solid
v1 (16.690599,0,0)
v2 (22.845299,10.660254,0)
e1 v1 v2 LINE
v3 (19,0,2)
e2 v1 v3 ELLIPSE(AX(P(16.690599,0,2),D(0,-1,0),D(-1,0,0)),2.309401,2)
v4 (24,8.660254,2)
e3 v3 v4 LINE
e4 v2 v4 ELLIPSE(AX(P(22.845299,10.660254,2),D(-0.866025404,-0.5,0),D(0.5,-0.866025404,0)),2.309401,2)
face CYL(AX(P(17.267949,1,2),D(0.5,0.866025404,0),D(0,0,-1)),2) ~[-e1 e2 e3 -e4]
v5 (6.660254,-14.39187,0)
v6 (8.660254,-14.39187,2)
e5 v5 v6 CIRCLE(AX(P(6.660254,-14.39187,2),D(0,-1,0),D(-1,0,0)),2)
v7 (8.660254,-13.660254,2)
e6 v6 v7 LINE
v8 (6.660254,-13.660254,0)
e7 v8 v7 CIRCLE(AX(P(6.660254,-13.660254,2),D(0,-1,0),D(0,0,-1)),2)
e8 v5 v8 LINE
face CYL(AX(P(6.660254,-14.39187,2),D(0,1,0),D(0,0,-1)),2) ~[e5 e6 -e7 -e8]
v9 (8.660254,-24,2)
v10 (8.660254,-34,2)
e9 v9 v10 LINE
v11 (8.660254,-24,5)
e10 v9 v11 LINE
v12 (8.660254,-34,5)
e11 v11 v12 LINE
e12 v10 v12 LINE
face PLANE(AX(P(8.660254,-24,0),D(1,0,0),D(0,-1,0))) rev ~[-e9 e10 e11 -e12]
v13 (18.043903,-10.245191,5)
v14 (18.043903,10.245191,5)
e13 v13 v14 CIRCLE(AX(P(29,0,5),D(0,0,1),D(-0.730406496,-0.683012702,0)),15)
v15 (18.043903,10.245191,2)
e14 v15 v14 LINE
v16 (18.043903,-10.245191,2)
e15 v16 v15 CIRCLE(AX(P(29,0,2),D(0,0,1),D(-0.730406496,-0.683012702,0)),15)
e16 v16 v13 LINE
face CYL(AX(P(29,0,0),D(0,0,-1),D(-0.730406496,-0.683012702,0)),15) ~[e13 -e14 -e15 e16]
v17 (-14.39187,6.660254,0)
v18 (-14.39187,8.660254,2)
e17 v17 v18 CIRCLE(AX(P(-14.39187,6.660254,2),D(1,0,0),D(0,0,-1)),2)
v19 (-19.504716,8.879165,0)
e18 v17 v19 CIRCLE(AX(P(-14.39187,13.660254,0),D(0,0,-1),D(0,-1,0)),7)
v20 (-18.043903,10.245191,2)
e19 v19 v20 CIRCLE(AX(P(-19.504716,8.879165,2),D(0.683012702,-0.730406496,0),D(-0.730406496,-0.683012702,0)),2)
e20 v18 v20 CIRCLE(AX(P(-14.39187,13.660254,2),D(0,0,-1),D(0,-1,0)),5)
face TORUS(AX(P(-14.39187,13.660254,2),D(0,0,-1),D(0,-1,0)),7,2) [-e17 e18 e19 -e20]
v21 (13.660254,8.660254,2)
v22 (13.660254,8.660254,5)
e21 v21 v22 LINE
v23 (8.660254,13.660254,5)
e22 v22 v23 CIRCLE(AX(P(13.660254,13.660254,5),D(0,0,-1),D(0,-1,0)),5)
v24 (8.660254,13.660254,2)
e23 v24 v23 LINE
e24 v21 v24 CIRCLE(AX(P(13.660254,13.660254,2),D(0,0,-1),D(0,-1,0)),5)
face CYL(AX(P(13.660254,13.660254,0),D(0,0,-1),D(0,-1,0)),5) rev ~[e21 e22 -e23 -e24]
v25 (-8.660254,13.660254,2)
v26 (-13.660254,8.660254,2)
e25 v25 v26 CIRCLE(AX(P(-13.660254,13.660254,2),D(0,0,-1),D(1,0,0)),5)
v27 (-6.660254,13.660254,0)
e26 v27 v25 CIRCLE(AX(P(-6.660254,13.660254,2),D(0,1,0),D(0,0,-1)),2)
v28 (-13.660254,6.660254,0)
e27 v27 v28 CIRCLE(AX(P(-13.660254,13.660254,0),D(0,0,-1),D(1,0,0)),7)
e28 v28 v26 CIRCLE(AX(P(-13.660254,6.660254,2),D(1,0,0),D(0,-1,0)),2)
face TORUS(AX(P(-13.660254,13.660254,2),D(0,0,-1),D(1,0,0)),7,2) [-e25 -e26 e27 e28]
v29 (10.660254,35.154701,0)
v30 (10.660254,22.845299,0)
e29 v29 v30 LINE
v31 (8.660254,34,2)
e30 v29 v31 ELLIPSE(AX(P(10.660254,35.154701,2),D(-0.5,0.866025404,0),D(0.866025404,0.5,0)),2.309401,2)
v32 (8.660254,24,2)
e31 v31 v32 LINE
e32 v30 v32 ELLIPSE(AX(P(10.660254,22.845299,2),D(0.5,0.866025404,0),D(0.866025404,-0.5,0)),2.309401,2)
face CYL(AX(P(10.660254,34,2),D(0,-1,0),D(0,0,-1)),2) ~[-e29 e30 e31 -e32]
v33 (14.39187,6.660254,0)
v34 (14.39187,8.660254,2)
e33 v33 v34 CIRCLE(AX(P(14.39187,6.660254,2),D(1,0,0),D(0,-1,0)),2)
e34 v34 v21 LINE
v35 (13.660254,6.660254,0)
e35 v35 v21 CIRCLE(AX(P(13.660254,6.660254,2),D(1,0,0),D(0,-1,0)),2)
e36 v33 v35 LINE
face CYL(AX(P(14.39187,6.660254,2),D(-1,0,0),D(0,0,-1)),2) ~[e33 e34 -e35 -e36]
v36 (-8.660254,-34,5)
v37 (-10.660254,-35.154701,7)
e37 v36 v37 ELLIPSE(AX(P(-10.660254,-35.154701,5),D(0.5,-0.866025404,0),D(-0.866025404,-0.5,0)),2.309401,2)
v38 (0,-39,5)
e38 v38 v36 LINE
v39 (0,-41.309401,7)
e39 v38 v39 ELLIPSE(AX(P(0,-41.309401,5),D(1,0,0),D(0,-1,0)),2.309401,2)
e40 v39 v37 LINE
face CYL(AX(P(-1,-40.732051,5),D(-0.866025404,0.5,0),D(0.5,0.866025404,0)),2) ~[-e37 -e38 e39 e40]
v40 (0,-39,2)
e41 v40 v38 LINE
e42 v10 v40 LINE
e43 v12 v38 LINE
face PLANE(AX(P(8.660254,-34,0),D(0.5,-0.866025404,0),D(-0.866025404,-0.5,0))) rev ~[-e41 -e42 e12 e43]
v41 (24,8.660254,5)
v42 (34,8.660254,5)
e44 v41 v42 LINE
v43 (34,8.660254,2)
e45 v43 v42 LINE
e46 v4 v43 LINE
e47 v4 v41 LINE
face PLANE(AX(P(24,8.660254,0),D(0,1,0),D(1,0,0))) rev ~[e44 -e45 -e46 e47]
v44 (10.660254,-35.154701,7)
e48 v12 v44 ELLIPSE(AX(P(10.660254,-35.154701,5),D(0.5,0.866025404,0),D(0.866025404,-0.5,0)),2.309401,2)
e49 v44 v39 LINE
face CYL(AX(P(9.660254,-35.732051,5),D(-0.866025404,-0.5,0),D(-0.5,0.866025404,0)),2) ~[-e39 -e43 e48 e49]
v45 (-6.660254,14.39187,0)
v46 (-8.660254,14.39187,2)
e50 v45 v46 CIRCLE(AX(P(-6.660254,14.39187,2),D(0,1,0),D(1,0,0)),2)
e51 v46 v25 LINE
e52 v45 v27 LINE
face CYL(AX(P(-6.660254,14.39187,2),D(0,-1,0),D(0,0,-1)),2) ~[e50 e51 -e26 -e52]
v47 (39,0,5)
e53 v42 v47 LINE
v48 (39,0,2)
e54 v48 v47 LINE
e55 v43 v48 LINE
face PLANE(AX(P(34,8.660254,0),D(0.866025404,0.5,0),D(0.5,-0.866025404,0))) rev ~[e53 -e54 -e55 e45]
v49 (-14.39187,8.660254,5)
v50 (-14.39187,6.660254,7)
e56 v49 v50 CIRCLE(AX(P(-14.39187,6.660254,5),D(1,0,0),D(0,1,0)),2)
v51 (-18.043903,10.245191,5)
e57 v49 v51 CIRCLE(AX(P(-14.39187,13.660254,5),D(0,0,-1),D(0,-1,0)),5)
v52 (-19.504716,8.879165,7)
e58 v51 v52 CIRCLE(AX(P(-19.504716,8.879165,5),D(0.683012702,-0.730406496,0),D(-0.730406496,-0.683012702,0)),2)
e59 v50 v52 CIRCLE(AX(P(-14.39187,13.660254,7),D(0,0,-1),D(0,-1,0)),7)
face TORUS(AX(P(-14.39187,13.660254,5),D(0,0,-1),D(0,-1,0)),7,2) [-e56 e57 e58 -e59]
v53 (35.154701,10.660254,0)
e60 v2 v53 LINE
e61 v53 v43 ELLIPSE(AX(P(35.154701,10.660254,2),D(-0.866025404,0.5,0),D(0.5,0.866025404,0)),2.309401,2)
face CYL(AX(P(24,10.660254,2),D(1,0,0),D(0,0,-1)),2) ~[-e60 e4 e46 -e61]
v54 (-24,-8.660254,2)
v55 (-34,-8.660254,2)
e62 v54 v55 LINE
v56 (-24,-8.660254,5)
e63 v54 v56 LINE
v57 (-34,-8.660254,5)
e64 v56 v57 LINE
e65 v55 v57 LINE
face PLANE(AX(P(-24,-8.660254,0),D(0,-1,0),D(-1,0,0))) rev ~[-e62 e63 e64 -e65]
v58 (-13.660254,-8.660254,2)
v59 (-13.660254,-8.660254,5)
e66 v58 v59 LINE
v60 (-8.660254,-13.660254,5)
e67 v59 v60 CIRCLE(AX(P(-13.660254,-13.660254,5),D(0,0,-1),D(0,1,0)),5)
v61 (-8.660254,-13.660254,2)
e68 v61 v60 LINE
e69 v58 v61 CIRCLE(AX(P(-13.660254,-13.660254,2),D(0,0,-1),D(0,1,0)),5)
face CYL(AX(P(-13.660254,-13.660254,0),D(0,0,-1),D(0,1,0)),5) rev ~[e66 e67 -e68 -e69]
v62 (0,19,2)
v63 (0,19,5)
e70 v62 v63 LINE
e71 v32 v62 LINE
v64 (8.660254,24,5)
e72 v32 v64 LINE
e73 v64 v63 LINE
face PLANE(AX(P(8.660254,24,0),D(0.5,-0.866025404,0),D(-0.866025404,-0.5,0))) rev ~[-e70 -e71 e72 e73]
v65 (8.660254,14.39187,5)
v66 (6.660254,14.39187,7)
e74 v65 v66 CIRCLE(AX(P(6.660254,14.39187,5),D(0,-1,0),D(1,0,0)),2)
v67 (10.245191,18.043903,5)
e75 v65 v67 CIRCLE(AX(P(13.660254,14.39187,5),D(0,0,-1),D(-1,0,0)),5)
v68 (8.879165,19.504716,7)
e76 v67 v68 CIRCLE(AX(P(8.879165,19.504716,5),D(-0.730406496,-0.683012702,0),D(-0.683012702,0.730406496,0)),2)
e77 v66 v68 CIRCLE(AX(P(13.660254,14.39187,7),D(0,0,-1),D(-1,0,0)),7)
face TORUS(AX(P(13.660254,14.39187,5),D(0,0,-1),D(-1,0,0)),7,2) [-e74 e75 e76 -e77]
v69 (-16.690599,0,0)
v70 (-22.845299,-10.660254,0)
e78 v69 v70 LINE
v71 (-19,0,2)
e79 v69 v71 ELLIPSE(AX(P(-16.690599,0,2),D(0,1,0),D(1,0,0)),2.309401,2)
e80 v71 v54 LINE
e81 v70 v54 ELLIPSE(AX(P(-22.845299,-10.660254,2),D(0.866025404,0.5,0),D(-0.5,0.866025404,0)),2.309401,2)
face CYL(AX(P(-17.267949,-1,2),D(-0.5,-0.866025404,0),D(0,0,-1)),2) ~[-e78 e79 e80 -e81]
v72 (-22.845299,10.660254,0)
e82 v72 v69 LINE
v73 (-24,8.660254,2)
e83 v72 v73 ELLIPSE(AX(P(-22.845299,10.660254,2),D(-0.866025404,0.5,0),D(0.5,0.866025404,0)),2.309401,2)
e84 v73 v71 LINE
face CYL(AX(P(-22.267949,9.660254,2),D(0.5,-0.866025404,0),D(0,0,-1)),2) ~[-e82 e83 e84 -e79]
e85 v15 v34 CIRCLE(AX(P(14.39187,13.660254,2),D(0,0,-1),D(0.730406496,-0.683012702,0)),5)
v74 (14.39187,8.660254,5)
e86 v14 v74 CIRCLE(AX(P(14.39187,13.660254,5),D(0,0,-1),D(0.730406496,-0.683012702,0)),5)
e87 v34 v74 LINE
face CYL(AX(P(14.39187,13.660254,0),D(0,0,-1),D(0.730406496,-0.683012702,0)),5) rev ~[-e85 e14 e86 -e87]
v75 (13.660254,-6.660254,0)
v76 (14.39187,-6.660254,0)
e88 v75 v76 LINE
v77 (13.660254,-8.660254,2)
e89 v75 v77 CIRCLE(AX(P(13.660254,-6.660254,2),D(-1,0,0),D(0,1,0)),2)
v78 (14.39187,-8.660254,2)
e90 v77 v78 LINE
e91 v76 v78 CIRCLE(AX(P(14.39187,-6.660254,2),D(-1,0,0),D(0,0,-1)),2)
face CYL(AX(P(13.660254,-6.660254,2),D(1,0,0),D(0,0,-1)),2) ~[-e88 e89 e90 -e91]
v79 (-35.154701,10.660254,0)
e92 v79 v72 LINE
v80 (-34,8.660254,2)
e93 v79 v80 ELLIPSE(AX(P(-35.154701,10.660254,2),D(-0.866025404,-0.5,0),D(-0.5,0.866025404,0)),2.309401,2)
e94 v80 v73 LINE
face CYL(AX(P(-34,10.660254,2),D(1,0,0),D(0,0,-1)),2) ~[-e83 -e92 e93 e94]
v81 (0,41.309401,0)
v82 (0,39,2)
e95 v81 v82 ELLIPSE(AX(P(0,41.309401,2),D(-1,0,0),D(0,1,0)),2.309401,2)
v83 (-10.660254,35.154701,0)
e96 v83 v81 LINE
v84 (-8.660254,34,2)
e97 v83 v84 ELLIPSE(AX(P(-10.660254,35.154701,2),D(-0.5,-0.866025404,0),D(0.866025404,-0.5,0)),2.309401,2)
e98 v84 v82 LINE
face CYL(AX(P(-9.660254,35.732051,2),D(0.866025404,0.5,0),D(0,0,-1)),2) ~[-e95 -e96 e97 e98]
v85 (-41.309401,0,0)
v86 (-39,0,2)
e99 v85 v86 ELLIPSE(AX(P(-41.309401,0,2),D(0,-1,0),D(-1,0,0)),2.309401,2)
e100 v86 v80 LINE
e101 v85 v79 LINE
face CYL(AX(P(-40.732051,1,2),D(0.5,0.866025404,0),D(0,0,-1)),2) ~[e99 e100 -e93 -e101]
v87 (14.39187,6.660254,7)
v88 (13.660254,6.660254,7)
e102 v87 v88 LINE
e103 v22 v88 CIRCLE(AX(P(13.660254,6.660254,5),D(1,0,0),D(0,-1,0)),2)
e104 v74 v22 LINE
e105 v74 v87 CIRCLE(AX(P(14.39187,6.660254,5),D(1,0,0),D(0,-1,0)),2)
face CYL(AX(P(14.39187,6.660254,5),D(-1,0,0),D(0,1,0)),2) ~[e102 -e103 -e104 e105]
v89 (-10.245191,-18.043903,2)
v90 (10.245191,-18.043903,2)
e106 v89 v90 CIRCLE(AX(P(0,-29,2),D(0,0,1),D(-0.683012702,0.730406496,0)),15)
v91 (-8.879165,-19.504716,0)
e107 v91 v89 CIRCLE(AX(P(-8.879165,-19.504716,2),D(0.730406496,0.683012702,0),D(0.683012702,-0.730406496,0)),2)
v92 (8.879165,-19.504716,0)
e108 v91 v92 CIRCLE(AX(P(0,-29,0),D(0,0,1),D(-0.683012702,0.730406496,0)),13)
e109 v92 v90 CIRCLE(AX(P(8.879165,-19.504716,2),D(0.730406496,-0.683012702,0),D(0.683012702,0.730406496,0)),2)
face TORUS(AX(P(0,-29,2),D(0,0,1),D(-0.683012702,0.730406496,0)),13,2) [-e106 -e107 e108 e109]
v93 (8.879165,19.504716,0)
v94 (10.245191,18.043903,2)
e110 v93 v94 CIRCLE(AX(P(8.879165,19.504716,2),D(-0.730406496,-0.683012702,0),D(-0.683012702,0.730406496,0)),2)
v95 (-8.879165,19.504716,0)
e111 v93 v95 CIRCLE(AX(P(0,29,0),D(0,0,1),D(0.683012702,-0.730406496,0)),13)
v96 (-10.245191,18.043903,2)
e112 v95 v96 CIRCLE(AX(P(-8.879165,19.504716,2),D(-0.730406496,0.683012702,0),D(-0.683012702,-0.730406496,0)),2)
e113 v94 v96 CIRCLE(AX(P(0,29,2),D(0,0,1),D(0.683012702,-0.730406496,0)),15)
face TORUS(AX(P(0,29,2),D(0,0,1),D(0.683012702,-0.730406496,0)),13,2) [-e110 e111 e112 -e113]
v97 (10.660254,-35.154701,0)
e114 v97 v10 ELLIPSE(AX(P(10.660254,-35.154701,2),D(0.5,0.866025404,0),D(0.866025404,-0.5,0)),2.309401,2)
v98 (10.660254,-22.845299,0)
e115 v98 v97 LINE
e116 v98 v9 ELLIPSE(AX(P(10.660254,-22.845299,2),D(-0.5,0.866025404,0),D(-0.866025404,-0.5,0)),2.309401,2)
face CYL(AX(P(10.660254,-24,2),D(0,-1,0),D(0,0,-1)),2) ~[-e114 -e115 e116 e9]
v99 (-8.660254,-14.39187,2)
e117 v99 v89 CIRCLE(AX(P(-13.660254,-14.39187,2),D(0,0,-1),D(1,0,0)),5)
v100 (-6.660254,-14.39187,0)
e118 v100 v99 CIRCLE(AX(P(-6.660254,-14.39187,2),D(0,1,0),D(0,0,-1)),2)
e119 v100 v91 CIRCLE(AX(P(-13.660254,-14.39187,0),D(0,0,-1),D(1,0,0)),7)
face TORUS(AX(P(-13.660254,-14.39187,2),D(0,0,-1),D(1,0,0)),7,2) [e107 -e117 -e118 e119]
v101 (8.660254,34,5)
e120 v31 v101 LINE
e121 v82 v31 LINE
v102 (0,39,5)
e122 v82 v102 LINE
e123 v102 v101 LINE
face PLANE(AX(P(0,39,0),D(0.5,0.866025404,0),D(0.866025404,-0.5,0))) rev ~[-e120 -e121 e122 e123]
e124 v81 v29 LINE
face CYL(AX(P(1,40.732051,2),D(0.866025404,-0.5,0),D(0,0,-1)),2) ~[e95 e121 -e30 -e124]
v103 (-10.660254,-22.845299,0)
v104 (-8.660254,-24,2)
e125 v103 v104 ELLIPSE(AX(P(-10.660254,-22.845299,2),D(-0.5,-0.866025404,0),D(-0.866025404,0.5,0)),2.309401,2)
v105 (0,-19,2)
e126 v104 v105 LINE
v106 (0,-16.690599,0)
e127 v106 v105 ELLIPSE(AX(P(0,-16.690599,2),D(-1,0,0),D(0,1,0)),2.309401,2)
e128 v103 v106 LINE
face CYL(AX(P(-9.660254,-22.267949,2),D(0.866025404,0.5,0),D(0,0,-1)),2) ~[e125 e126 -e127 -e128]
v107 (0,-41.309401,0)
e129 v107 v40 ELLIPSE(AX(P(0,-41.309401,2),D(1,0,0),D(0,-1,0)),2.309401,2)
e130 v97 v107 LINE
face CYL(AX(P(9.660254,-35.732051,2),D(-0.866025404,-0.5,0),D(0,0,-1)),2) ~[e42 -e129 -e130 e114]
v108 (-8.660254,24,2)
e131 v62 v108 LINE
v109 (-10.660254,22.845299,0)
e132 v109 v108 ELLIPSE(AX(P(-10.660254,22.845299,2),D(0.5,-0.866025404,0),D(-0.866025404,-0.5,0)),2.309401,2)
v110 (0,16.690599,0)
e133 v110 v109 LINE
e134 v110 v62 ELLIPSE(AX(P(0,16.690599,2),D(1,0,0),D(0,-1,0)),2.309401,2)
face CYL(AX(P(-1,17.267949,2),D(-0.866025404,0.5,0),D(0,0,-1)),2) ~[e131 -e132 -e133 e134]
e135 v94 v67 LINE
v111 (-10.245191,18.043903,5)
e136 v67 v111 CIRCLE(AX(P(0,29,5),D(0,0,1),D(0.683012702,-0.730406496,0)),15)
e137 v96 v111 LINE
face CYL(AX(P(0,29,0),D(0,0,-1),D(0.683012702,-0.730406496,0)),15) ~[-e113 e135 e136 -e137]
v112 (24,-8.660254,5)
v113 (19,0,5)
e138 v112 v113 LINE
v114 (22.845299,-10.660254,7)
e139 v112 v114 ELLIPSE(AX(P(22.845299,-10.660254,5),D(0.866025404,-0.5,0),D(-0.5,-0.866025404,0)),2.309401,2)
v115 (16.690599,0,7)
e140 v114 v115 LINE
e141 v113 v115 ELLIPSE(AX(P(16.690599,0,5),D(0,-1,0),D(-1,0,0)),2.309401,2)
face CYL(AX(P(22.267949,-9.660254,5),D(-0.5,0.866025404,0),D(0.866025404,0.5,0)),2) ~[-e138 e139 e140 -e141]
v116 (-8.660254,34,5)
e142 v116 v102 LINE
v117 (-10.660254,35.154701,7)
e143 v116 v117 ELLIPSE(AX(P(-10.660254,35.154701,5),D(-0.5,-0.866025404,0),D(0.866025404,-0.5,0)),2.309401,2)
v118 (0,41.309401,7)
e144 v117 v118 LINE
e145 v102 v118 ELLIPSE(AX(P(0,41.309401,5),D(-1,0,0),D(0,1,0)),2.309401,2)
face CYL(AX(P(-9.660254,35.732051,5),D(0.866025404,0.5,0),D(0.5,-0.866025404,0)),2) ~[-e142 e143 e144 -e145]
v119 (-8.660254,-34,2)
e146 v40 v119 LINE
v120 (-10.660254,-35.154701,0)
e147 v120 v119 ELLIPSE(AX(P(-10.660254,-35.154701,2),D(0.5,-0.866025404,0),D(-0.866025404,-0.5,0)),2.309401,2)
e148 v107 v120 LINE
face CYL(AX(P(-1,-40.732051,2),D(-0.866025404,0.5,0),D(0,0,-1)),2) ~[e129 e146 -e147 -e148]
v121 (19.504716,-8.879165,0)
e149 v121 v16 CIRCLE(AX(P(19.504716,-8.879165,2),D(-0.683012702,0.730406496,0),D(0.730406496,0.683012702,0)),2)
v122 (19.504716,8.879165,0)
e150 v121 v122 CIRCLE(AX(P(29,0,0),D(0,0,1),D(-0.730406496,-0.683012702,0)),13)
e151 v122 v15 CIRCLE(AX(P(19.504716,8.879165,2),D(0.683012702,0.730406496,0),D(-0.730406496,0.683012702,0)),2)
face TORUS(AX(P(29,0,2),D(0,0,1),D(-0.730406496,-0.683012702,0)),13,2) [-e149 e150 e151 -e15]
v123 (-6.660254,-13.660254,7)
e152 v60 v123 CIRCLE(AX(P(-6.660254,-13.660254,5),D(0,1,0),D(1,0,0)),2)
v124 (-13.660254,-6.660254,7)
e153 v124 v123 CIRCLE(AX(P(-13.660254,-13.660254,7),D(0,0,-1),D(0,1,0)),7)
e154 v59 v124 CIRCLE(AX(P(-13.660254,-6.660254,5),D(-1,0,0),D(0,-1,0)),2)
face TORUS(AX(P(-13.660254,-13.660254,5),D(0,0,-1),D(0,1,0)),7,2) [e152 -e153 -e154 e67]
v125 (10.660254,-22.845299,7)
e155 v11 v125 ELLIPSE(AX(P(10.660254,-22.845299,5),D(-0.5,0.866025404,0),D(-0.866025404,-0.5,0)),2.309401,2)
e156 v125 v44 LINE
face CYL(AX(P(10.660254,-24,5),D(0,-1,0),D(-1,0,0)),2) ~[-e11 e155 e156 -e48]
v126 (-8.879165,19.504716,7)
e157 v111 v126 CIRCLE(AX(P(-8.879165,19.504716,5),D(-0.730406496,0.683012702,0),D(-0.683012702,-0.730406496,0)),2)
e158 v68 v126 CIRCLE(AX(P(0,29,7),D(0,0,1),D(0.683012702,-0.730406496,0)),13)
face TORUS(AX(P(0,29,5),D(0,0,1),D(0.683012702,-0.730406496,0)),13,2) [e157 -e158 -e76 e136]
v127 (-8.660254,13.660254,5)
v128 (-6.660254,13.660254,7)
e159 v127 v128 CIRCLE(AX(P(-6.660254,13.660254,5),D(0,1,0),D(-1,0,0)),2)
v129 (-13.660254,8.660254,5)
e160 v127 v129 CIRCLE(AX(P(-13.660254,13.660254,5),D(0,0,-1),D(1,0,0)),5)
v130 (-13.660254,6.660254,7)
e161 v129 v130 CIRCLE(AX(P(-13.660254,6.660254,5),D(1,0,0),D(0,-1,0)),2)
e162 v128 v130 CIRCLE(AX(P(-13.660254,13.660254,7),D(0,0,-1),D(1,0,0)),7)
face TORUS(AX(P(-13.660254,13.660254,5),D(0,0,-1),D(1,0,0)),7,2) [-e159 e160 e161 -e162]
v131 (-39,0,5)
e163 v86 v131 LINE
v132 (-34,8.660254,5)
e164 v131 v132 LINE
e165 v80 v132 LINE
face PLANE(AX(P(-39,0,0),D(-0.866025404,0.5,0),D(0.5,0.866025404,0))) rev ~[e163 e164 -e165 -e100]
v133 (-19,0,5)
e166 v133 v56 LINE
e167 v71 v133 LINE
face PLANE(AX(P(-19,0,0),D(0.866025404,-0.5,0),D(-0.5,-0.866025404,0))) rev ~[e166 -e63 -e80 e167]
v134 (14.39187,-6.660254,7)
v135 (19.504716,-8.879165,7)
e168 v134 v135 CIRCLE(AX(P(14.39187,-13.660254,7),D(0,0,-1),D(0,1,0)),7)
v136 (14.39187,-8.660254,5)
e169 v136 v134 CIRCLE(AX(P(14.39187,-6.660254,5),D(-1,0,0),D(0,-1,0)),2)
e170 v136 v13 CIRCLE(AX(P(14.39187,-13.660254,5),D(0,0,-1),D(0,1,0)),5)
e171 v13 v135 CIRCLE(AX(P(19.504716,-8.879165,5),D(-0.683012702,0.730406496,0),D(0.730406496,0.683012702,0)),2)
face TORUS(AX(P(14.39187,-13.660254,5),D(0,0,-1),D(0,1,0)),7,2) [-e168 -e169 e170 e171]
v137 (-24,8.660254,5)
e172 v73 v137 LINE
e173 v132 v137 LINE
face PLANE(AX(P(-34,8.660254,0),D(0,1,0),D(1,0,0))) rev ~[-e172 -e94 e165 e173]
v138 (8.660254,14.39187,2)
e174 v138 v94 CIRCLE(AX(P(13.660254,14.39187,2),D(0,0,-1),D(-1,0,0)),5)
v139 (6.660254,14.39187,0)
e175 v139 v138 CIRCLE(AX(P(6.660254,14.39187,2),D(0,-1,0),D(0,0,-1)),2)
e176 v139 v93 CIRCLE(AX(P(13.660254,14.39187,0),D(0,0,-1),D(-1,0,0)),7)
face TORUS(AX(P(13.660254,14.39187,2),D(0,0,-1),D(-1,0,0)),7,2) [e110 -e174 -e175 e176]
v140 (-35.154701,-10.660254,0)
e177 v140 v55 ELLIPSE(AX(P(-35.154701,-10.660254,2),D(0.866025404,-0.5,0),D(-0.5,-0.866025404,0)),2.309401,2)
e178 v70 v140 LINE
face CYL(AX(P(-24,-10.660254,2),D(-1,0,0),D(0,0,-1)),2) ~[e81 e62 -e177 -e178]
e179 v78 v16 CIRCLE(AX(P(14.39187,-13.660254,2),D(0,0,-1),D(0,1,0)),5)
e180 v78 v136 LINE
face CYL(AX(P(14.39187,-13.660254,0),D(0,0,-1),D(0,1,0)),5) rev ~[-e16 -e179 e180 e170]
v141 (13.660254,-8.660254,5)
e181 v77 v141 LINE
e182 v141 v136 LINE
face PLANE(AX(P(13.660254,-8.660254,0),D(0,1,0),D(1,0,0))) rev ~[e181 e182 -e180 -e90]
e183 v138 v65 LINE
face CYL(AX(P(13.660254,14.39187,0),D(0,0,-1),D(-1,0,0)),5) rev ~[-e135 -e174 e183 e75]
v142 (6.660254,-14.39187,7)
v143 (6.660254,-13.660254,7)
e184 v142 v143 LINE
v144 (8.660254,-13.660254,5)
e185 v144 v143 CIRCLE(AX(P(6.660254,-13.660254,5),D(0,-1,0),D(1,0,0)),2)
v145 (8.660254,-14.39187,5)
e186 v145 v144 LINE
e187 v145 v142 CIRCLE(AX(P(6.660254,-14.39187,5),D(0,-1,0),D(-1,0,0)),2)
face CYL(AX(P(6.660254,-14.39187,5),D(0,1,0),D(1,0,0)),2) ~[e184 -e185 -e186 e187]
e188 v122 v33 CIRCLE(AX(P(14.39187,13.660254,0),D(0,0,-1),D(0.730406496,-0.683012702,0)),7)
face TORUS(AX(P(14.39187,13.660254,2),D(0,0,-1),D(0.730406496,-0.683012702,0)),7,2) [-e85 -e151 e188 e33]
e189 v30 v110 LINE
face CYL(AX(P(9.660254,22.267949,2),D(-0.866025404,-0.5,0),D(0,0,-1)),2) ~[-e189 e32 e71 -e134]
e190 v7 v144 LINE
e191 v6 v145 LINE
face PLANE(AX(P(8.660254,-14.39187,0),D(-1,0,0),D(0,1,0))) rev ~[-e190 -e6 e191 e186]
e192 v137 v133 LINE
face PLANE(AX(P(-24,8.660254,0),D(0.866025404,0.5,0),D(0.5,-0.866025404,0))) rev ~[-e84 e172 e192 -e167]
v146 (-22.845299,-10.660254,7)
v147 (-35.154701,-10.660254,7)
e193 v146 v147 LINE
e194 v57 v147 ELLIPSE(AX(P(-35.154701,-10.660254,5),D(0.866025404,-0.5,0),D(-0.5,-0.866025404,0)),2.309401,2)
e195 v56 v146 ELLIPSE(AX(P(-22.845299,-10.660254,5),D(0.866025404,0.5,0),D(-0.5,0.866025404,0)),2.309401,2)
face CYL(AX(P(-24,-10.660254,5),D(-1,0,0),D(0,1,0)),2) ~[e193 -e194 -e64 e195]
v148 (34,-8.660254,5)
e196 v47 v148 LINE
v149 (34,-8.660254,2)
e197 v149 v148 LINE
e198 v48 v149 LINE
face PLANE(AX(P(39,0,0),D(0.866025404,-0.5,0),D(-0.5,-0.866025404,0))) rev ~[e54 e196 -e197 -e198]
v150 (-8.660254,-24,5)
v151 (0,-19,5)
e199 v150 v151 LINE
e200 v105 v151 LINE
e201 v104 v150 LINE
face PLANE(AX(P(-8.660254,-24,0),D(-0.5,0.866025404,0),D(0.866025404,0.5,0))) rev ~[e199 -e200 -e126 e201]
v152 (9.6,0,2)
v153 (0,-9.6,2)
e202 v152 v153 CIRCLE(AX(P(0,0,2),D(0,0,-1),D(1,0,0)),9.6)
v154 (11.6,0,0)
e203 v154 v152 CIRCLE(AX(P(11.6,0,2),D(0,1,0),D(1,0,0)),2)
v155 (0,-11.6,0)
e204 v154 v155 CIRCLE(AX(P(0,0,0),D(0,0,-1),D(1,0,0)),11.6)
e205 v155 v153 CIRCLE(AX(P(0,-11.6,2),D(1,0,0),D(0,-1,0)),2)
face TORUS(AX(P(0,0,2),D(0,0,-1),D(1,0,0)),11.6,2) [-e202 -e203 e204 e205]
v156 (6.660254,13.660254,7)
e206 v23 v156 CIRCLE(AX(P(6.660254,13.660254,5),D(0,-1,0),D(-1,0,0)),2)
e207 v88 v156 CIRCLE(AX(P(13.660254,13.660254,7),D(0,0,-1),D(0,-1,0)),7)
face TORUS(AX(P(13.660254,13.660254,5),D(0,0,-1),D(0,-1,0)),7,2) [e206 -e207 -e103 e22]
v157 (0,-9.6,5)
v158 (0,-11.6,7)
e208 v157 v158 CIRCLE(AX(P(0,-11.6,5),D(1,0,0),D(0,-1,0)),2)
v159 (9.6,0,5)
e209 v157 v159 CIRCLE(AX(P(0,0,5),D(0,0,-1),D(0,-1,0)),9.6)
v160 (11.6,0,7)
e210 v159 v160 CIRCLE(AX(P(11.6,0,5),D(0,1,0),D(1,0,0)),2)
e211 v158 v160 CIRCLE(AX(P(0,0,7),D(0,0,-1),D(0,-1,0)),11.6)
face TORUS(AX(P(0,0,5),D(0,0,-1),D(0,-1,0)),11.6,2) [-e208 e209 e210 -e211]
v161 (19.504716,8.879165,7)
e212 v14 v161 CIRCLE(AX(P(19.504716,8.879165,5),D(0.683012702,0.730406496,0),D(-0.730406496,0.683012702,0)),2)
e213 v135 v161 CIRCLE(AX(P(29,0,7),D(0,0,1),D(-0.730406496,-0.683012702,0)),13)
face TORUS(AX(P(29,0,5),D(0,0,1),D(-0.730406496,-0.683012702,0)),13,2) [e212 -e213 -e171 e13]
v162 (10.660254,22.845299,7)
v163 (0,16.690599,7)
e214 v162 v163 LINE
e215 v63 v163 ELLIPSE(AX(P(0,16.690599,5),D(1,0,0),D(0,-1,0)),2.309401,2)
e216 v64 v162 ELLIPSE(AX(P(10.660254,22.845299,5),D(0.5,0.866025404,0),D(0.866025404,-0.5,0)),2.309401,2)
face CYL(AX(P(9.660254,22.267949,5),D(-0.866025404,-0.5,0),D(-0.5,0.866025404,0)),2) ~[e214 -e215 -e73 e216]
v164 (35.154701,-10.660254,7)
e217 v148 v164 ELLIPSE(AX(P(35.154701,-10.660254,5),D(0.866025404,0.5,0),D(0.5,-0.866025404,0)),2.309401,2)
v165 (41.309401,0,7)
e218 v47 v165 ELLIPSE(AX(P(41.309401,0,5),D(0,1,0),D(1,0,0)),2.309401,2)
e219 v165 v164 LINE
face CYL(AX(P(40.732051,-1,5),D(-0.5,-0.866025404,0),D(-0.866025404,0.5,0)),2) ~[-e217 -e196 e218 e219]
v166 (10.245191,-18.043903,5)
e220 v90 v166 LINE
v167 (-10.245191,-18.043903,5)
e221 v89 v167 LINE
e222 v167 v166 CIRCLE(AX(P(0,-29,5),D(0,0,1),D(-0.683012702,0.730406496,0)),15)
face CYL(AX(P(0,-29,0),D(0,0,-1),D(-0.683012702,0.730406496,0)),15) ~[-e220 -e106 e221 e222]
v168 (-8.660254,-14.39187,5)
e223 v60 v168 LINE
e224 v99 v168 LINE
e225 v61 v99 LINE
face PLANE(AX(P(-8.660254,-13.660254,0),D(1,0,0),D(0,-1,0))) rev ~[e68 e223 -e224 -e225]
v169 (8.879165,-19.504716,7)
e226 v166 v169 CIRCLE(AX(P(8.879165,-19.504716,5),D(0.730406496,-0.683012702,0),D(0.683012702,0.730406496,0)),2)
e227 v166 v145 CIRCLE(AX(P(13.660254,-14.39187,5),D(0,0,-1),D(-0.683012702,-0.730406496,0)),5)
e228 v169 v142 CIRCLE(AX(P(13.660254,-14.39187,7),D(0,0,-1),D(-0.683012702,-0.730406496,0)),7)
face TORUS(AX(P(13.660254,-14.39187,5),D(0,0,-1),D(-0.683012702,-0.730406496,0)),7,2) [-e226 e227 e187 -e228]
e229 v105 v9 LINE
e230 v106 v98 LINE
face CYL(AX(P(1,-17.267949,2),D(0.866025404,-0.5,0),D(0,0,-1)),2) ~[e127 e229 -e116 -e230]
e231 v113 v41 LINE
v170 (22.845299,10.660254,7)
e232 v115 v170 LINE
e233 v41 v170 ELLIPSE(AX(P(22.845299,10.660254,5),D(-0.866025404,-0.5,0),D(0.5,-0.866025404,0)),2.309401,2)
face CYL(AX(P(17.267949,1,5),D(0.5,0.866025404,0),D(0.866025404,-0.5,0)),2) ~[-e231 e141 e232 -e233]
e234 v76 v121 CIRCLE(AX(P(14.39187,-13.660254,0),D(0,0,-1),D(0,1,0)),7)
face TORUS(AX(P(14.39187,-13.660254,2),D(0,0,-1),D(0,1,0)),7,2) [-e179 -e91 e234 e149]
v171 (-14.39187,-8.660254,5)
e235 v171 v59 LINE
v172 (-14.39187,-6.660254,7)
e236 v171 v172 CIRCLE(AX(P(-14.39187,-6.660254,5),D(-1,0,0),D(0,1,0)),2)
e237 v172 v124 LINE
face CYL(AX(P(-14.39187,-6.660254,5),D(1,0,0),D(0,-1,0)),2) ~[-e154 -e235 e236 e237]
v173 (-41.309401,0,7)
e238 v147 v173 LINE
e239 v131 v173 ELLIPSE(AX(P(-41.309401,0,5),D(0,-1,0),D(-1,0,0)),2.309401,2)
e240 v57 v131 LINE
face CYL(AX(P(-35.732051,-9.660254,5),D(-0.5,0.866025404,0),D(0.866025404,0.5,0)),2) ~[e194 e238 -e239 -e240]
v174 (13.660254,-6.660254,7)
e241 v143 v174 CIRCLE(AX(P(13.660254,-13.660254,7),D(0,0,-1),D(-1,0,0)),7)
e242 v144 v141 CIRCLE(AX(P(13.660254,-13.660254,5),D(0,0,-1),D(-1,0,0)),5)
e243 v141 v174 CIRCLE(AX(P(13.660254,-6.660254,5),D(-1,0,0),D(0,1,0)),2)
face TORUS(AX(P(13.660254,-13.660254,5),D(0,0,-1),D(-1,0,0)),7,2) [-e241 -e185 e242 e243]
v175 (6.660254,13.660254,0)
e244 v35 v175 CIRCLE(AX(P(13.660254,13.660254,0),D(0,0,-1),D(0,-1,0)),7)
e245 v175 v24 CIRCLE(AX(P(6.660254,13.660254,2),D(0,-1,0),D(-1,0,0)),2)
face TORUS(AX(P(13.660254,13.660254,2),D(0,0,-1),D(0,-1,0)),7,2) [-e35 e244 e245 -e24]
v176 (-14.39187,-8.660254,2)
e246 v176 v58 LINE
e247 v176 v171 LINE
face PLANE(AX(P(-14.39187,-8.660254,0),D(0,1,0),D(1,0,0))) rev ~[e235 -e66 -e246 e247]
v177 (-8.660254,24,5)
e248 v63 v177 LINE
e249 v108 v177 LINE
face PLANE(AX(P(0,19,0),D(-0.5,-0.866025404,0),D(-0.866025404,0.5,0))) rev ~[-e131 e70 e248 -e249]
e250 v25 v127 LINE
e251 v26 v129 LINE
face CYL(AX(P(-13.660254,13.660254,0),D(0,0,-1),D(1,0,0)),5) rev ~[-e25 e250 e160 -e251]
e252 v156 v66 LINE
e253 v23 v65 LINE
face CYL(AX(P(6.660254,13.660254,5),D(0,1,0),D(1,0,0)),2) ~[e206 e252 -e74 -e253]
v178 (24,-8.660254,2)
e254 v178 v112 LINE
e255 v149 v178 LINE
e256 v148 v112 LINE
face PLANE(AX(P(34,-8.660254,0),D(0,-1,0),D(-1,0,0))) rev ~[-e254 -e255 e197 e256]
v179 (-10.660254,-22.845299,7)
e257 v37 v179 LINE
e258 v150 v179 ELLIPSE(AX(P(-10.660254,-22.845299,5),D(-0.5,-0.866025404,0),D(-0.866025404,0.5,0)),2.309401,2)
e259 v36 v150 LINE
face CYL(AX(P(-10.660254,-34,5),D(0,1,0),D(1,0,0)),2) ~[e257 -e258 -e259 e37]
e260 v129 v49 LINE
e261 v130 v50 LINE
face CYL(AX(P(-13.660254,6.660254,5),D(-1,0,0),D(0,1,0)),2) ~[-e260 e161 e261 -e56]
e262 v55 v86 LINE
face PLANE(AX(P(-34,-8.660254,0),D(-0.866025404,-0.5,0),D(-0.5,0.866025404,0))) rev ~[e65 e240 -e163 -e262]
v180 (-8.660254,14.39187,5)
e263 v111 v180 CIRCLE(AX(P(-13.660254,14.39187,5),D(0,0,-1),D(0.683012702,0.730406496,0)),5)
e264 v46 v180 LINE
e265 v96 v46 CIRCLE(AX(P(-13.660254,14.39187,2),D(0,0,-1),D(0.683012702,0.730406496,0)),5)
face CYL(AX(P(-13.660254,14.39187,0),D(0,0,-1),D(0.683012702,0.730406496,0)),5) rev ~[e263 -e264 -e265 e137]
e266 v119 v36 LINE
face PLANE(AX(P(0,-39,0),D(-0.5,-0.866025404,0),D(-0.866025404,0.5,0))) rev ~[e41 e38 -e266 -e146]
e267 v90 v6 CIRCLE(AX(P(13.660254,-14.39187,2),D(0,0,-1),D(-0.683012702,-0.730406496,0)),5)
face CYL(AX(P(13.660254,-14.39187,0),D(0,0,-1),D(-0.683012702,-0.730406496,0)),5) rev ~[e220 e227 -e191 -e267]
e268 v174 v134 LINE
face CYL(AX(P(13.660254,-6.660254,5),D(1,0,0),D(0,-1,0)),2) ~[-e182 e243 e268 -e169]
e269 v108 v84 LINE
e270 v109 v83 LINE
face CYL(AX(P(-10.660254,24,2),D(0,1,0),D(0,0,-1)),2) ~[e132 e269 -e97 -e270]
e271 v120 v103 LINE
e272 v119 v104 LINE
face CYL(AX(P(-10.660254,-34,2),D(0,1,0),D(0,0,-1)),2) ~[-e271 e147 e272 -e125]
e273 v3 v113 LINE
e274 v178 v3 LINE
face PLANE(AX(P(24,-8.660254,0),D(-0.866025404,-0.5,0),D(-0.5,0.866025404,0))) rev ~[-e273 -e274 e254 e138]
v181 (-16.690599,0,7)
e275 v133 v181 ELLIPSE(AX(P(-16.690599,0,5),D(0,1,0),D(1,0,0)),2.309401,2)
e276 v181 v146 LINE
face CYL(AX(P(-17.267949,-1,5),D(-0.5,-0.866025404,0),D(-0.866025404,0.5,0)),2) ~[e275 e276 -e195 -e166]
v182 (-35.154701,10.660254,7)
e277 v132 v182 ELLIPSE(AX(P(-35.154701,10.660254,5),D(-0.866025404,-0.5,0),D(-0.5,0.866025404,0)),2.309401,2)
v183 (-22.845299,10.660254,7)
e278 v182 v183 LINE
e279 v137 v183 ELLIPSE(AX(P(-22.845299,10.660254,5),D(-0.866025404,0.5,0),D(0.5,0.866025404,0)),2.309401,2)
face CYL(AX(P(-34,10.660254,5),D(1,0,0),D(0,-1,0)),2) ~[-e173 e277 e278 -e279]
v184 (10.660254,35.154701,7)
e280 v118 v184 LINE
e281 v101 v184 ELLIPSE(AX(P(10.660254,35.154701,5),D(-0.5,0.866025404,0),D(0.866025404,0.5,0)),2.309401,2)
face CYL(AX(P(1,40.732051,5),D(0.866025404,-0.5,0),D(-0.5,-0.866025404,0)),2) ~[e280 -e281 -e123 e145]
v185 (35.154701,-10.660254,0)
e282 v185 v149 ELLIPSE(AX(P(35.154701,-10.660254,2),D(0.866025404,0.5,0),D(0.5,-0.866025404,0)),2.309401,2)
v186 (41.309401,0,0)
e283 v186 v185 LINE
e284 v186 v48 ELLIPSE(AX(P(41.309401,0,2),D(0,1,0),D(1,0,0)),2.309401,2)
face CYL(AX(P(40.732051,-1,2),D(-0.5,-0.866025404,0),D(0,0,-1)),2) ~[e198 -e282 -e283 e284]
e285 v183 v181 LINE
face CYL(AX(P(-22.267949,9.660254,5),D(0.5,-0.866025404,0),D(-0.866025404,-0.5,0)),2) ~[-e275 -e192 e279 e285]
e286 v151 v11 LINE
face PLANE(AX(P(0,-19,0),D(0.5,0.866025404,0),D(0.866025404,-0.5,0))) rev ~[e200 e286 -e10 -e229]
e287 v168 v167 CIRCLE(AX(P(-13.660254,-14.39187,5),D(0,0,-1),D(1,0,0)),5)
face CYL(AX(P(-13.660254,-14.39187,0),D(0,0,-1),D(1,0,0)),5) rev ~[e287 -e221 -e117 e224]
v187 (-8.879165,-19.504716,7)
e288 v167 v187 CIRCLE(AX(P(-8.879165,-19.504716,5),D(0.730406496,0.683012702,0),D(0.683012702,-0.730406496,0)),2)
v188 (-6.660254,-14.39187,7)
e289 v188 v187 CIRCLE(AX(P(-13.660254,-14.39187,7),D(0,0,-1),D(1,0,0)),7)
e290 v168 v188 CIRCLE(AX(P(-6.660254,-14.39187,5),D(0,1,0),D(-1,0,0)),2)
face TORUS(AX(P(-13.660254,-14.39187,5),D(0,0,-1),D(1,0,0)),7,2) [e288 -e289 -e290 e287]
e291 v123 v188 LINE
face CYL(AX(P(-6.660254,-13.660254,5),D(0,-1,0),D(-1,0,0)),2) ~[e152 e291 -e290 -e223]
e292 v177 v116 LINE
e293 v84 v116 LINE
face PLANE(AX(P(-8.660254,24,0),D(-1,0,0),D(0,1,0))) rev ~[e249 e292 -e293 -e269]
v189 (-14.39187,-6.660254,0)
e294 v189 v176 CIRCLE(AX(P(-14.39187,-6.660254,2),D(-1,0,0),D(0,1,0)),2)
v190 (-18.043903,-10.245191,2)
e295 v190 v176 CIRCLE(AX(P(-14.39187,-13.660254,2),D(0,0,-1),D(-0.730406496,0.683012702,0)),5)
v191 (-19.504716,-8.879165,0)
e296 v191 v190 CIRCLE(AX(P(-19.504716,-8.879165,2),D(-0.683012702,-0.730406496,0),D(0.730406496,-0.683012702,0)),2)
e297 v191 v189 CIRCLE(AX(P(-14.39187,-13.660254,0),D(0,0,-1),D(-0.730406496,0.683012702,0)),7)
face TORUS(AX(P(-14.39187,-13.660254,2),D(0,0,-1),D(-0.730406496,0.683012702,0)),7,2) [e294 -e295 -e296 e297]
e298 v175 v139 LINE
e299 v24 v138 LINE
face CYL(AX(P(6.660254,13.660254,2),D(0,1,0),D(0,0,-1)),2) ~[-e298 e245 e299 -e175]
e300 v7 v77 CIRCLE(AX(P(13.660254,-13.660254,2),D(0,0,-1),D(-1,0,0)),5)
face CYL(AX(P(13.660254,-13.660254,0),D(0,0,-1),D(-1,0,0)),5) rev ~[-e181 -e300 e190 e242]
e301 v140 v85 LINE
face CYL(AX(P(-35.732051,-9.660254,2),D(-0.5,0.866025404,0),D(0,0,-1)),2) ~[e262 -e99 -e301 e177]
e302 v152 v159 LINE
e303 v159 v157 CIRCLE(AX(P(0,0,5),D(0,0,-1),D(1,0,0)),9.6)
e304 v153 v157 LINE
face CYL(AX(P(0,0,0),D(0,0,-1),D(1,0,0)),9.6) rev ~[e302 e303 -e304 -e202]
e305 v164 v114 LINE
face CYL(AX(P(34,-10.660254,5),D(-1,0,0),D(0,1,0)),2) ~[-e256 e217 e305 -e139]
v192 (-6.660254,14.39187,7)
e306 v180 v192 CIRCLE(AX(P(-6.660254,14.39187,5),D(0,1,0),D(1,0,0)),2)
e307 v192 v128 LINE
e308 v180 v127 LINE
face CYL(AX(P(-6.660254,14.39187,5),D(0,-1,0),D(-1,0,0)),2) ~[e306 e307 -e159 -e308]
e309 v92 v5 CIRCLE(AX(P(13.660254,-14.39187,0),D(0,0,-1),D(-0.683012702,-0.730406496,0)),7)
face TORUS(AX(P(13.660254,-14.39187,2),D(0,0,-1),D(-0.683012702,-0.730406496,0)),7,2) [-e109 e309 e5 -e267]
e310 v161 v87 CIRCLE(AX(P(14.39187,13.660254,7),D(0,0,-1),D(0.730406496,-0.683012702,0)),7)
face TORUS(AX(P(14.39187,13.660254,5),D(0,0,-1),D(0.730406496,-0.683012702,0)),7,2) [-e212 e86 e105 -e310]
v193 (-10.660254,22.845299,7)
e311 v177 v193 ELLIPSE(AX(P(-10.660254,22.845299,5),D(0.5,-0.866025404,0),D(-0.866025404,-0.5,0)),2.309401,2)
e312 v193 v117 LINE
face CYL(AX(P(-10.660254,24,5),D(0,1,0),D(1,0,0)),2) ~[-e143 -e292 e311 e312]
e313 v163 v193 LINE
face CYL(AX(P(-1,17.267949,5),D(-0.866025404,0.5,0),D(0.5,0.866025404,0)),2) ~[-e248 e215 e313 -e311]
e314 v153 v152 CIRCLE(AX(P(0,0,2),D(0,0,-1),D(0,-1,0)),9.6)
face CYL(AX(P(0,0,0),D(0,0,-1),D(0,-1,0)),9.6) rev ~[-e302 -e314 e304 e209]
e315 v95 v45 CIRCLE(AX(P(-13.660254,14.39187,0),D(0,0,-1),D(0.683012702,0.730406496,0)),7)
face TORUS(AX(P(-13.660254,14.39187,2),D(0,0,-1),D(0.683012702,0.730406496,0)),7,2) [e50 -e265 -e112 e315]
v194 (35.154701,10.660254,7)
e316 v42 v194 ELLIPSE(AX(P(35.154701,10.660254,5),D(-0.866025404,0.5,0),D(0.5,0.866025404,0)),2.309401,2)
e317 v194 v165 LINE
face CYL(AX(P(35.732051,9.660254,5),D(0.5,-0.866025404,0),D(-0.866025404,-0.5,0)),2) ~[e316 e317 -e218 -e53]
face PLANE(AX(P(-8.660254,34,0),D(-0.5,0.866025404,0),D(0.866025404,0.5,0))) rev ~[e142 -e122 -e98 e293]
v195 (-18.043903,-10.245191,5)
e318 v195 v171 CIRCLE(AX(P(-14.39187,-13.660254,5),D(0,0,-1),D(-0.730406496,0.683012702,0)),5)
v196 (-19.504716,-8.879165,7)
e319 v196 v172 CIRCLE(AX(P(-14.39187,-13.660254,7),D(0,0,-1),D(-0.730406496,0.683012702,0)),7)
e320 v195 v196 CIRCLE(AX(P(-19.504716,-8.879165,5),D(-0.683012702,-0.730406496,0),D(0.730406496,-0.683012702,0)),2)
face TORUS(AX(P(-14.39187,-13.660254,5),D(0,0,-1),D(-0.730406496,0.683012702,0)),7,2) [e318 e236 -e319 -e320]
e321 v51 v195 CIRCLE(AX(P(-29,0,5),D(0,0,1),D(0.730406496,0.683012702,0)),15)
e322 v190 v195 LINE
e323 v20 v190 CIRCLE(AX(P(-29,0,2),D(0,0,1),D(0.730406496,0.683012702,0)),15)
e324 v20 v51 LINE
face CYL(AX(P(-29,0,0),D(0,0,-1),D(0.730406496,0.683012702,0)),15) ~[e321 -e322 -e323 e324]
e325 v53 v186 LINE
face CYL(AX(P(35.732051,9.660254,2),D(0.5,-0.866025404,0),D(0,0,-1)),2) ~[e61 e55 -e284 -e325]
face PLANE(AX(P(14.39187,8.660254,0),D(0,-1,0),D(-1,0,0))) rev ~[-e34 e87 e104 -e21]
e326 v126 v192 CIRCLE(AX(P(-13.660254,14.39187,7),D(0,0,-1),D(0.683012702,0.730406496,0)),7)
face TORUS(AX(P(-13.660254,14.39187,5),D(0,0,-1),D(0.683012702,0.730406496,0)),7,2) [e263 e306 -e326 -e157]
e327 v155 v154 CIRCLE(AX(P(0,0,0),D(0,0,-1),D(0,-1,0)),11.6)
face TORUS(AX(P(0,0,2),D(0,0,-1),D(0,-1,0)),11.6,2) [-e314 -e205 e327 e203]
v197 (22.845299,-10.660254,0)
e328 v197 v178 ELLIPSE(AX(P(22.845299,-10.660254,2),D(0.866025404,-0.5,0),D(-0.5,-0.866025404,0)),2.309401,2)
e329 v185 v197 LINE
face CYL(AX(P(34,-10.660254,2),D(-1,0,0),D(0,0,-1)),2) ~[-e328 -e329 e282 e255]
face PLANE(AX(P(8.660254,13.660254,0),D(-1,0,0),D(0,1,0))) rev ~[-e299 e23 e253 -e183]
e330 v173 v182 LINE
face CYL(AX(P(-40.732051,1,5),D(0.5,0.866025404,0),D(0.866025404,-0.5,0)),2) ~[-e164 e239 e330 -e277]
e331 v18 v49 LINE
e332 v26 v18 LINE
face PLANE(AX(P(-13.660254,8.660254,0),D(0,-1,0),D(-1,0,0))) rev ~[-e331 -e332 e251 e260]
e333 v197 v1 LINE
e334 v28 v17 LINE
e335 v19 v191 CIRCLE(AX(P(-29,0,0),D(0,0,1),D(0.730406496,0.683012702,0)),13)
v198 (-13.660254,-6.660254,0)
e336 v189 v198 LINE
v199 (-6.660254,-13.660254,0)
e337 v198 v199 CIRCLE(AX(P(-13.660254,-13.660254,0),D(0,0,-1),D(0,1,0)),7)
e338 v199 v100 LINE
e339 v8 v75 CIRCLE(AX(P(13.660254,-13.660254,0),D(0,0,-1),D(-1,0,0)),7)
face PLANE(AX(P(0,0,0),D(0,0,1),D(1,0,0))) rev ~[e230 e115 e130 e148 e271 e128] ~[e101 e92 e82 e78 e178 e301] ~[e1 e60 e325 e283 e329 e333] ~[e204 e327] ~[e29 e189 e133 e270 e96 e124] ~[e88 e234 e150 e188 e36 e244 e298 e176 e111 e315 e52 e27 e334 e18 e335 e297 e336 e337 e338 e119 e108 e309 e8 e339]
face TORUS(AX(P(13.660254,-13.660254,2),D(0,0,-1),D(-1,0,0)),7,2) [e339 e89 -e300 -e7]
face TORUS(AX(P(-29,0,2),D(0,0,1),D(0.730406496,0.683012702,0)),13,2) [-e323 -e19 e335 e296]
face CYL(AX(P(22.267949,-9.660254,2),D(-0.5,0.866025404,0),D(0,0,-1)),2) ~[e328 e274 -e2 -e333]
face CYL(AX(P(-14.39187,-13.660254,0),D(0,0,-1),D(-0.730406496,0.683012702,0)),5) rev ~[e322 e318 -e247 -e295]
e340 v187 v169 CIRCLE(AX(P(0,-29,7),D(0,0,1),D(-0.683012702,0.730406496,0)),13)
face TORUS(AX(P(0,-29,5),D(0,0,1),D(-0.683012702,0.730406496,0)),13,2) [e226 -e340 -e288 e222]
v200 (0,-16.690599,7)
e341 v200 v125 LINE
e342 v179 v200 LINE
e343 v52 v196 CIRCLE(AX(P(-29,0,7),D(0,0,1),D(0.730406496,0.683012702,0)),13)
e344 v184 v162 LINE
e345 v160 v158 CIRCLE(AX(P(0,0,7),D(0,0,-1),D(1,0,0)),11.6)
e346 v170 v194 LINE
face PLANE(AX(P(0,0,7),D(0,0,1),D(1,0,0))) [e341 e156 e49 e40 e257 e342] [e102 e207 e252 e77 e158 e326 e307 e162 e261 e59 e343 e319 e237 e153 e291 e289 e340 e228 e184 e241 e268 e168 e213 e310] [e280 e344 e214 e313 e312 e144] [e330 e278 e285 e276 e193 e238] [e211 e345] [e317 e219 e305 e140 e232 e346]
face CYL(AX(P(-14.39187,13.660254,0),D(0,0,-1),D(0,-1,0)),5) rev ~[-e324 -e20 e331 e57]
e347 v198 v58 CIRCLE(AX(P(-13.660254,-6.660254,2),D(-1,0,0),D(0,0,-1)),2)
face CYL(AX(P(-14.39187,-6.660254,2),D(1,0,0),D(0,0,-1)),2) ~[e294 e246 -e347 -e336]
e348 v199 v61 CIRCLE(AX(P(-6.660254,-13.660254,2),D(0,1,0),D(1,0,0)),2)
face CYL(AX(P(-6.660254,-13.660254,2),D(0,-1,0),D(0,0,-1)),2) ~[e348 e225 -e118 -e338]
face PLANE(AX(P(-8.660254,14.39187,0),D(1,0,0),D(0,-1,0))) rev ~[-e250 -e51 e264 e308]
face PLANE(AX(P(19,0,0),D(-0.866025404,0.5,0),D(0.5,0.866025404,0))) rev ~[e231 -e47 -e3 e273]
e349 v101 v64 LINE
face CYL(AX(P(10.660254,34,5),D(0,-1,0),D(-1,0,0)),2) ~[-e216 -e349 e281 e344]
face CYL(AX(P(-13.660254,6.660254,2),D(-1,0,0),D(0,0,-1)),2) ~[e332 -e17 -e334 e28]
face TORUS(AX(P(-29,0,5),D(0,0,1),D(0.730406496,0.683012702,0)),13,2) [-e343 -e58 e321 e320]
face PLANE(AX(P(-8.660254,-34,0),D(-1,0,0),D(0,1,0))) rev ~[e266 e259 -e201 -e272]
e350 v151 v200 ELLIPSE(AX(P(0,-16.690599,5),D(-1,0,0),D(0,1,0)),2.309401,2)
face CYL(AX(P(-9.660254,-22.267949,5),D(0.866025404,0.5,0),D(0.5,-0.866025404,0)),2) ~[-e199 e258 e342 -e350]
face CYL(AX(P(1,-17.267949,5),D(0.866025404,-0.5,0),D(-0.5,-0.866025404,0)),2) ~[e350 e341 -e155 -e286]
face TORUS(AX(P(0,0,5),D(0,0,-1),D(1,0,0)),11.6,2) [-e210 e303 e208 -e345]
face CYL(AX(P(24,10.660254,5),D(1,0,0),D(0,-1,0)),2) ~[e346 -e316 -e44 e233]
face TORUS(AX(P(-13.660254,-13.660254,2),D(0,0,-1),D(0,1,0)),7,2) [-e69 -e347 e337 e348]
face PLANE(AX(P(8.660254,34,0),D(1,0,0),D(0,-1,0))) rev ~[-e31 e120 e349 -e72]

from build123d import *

# Parameters (mm, degrees)
F1_DEPTH = 7
F2_R     = 2
F3_R     = 2


with BuildPart() as f1:
    # F0 (on Top) → F1 (new body)
    with BuildSketch(Plane.XY):
        with BuildLine():
            ThreePointArc((8.6602540378, 14.3918700847), (9.0735712743, 16.3824331273), (10.2451905284, 18.0439025635))
            ThreePointArc((10.2451905284, 18.0439025635), (0, 44), (-10.2451905284, 18.0439025635))
            ThreePointArc((-10.2451905284, 18.0439025635), (-9.0735712743, 16.3824331273), (-8.6602540378, 14.3918700847))
            Line((-8.6602540378, 14.3918700847), (-8.6602540378, 13.6602540378))
            ThreePointArc((-8.6602540378, 13.6602540378), (-10.1247201319, 10.1247201319), (-13.6602540378, 8.6602540378))
            Line((-13.6602540378, 8.6602540378), (-14.3918700847, 8.6602540378))
            ThreePointArc((-14.3918700847, 8.6602540378), (-16.3824331273, 9.0735712743), (-18.0439025635, 10.2451905284))
            ThreePointArc((-18.0439025635, 10.2451905284), (-44, 0), (-18.0439025635, -10.2451905284))
            ThreePointArc((-18.0439025635, -10.2451905284), (-16.3824331273, -9.0735712743), (-14.3918700847, -8.6602540378))
            Line((-14.3918700847, -8.6602540378), (-13.6602540378, -8.6602540378))
            ThreePointArc((-13.6602540378, -8.6602540378), (-10.1247201319, -10.1247201319), (-8.6602540378, -13.6602540378))
            Line((-8.6602540378, -13.6602540378), (-8.6602540378, -14.3918700847))
            ThreePointArc((-8.6602540378, -14.3918700847), (-9.0735712743, -16.3824331273), (-10.2451905284, -18.0439025635))
            ThreePointArc((-10.2451905284, -18.0439025635), (0, -44), (10.2451905284, -18.0439025635))
            ThreePointArc((10.2451905284, -18.0439025635), (9.0735712743, -16.3824331273), (8.6602540378, -14.3918700847))
            Line((8.6602540378, -14.3918700847), (8.6602540378, -13.6602540378))
            ThreePointArc((8.6602540378, -13.6602540378), (10.1247201319, -10.1247201319), (13.6602540378, -8.6602540378))
            Line((13.6602540378, -8.6602540378), (14.3918700847, -8.6602540378))
            ThreePointArc((14.3918700847, -8.6602540378), (16.3824331273, -9.0735712743), (18.0439025635, -10.2451905284))
            ThreePointArc((18.0439025635, -10.2451905284), (44, 0), (18.0439025635, 10.2451905284))
            ThreePointArc((18.0439025635, 10.2451905284), (16.3824331273, 9.0735712743), (14.3918700847, 8.6602540378))
            Line((14.3918700847, 8.6602540378), (13.6602540378, 8.6602540378))
            ThreePointArc((13.6602540378, 8.6602540378), (10.1247201319, 10.1247201319), (8.6602540378, 13.6602540378))
            Line((8.6602540378, 13.6602540378), (8.6602540378, 14.3918700847))
        make_face()
        Polygon((-24, -8.6602540378), (-34, -8.6602540378), (-39, 0), (-34, 8.6602540378), (-24, 8.6602540378), (-19, 0), align=None, mode=Mode.SUBTRACT)
        Polygon((8.6602540378, -24), (8.6602540378, -34), (0, -39), (-8.6602540378, -34), (-8.6602540378, -24), (0, -19), align=None, mode=Mode.SUBTRACT)
        with BuildLine():
            ThreePointArc((0, -9.6), (-6.7882250994, 6.7882250994), (9.6, 0))
            ThreePointArc((9.6, 0), (6.7882250994, -6.7882250994), (0, -9.6))
        make_face(mode=Mode.SUBTRACT)
        Polygon((24, 8.6602540378), (34, 8.6602540378), (39, 0), (34, -8.6602540378), (24, -8.6602540378), (19, 0), align=None, mode=Mode.SUBTRACT)
        Polygon((0, 39), (8.6602540378, 34), (8.6602540378, 24), (0, 19), (-8.6602540378, 24), (-8.6602540378, 34), align=None, mode=Mode.SUBTRACT)
    extrude(amount=F1_DEPTH)

    # F2
    f2_edges = [f1.edges().sort_by_distance(p)[0] for p in [
        (10.12472, 10.12472, 7),
        (8.660254, 14.026062, 7),
        (9.073571, 16.382433, 7),
        (0, 44, 7),
        (-9.073571, 16.382433, 7),
        (-8.660254, 14.026062, 7),
        (-10.12472, 10.12472, 7),
        (-14.026062, 8.660254, 7),
        (-16.382433, 9.073571, 7),
        (-44, 0, 7),
        (-16.382433, -9.073571, 7),
        (-14.026062, -8.660254, 7),
        (-10.12472, -10.12472, 7),
        (-8.660254, -14.026062, 7),
        (-9.073571, -16.382433, 7),
        (0, -44, 7),
        (9.073571, -16.382433, 7),
        (8.660254, -14.026062, 7),
        (10.12472, -10.12472, 7),
        (14.026062, -8.660254, 7),
        (16.382433, -9.073571, 7),
        (44, 0, 7),
        (16.382433, 9.073571, 7),
        (14.026062, 8.660254, 7),
        (-29, -8.660254, 7),
        (-36.5, -4.330127, 7),
        (-36.5, 4.330127, 7),
        (-29, 8.660254, 7),
        (-21.5, 4.330127, 7),
        (-21.5, -4.330127, 7),
        (8.660254, -29, 7),
        (4.330127, -36.5, 7),
        (-4.330127, -36.5, 7),
        (-8.660254, -29, 7),
        (-4.330127, -21.5, 7),
        (4.330127, -21.5, 7),
        (-9.6, 0, 7),
        (29, 8.660254, 7),
        (36.5, 4.330127, 7),
        (36.5, -4.330127, 7),
        (29, -8.660254, 7),
        (21.5, -4.330127, 7),
        (21.5, 4.330127, 7),
        (-4.330127, 36.5, 7),
        (4.330127, 36.5, 7),
        (8.660254, 29, 7),
        (4.330127, 21.5, 7),
        (-4.330127, 21.5, 7),
        (-8.660254, 29, 7),
    ]]
    fillet(f2_edges, radius=F2_R)

    # F3
    f3_edges = [f1.edges().sort_by_distance(p)[0] for p in [
        (10.12472, 10.12472, 0),
        (8.660254, 14.026062, 0),
        (9.073571, 16.382433, 0),
        (0, 44, 0),
        (-9.073571, 16.382433, 0),
        (-8.660254, 14.026062, 0),
        (-10.12472, 10.12472, 0),
        (-14.026062, 8.660254, 0),
        (-16.382433, 9.073571, 0),
        (-44, 0, 0),
        (-16.382433, -9.073571, 0),
        (-14.026062, -8.660254, 0),
        (-10.12472, -10.12472, 0),
        (-8.660254, -14.026062, 0),
        (-9.073571, -16.382433, 0),
        (0, -44, 0),
        (9.073571, -16.382433, 0),
        (8.660254, -14.026062, 0),
        (10.12472, -10.12472, 0),
        (14.026062, -8.660254, 0),
        (16.382433, -9.073571, 0),
        (44, 0, 0),
        (16.382433, 9.073571, 0),
        (14.026062, 8.660254, 0),
        (-29, -8.660254, 0),
        (-36.5, -4.330127, 0),
        (-36.5, 4.330127, 0),
        (-29, 8.660254, 0),
        (-21.5, 4.330127, 0),
        (-21.5, -4.330127, 0),
        (8.660254, -29, 0),
        (4.330127, -36.5, 0),
        (-4.330127, -36.5, 0),
        (-8.660254, -29, 0),
        (-4.330127, -21.5, 0),
        (4.330127, -21.5, 0),
        (-9.6, 0, 0),
        (29, 8.660254, 0),
        (36.5, 4.330127, 0),
        (36.5, -4.330127, 0),
        (29, -8.660254, 0),
        (21.5, -4.330127, 0),
        (21.5, 4.330127, 0),
        (-4.330127, 36.5, 0),
        (4.330127, 36.5, 0),
        (8.660254, 29, 0),
        (4.330127, 21.5, 0),
        (-4.330127, 21.5, 0),
        (-8.660254, 29, 0),
    ]]
    fillet(f3_edges, radius=F3_R)


solid = f1.part
